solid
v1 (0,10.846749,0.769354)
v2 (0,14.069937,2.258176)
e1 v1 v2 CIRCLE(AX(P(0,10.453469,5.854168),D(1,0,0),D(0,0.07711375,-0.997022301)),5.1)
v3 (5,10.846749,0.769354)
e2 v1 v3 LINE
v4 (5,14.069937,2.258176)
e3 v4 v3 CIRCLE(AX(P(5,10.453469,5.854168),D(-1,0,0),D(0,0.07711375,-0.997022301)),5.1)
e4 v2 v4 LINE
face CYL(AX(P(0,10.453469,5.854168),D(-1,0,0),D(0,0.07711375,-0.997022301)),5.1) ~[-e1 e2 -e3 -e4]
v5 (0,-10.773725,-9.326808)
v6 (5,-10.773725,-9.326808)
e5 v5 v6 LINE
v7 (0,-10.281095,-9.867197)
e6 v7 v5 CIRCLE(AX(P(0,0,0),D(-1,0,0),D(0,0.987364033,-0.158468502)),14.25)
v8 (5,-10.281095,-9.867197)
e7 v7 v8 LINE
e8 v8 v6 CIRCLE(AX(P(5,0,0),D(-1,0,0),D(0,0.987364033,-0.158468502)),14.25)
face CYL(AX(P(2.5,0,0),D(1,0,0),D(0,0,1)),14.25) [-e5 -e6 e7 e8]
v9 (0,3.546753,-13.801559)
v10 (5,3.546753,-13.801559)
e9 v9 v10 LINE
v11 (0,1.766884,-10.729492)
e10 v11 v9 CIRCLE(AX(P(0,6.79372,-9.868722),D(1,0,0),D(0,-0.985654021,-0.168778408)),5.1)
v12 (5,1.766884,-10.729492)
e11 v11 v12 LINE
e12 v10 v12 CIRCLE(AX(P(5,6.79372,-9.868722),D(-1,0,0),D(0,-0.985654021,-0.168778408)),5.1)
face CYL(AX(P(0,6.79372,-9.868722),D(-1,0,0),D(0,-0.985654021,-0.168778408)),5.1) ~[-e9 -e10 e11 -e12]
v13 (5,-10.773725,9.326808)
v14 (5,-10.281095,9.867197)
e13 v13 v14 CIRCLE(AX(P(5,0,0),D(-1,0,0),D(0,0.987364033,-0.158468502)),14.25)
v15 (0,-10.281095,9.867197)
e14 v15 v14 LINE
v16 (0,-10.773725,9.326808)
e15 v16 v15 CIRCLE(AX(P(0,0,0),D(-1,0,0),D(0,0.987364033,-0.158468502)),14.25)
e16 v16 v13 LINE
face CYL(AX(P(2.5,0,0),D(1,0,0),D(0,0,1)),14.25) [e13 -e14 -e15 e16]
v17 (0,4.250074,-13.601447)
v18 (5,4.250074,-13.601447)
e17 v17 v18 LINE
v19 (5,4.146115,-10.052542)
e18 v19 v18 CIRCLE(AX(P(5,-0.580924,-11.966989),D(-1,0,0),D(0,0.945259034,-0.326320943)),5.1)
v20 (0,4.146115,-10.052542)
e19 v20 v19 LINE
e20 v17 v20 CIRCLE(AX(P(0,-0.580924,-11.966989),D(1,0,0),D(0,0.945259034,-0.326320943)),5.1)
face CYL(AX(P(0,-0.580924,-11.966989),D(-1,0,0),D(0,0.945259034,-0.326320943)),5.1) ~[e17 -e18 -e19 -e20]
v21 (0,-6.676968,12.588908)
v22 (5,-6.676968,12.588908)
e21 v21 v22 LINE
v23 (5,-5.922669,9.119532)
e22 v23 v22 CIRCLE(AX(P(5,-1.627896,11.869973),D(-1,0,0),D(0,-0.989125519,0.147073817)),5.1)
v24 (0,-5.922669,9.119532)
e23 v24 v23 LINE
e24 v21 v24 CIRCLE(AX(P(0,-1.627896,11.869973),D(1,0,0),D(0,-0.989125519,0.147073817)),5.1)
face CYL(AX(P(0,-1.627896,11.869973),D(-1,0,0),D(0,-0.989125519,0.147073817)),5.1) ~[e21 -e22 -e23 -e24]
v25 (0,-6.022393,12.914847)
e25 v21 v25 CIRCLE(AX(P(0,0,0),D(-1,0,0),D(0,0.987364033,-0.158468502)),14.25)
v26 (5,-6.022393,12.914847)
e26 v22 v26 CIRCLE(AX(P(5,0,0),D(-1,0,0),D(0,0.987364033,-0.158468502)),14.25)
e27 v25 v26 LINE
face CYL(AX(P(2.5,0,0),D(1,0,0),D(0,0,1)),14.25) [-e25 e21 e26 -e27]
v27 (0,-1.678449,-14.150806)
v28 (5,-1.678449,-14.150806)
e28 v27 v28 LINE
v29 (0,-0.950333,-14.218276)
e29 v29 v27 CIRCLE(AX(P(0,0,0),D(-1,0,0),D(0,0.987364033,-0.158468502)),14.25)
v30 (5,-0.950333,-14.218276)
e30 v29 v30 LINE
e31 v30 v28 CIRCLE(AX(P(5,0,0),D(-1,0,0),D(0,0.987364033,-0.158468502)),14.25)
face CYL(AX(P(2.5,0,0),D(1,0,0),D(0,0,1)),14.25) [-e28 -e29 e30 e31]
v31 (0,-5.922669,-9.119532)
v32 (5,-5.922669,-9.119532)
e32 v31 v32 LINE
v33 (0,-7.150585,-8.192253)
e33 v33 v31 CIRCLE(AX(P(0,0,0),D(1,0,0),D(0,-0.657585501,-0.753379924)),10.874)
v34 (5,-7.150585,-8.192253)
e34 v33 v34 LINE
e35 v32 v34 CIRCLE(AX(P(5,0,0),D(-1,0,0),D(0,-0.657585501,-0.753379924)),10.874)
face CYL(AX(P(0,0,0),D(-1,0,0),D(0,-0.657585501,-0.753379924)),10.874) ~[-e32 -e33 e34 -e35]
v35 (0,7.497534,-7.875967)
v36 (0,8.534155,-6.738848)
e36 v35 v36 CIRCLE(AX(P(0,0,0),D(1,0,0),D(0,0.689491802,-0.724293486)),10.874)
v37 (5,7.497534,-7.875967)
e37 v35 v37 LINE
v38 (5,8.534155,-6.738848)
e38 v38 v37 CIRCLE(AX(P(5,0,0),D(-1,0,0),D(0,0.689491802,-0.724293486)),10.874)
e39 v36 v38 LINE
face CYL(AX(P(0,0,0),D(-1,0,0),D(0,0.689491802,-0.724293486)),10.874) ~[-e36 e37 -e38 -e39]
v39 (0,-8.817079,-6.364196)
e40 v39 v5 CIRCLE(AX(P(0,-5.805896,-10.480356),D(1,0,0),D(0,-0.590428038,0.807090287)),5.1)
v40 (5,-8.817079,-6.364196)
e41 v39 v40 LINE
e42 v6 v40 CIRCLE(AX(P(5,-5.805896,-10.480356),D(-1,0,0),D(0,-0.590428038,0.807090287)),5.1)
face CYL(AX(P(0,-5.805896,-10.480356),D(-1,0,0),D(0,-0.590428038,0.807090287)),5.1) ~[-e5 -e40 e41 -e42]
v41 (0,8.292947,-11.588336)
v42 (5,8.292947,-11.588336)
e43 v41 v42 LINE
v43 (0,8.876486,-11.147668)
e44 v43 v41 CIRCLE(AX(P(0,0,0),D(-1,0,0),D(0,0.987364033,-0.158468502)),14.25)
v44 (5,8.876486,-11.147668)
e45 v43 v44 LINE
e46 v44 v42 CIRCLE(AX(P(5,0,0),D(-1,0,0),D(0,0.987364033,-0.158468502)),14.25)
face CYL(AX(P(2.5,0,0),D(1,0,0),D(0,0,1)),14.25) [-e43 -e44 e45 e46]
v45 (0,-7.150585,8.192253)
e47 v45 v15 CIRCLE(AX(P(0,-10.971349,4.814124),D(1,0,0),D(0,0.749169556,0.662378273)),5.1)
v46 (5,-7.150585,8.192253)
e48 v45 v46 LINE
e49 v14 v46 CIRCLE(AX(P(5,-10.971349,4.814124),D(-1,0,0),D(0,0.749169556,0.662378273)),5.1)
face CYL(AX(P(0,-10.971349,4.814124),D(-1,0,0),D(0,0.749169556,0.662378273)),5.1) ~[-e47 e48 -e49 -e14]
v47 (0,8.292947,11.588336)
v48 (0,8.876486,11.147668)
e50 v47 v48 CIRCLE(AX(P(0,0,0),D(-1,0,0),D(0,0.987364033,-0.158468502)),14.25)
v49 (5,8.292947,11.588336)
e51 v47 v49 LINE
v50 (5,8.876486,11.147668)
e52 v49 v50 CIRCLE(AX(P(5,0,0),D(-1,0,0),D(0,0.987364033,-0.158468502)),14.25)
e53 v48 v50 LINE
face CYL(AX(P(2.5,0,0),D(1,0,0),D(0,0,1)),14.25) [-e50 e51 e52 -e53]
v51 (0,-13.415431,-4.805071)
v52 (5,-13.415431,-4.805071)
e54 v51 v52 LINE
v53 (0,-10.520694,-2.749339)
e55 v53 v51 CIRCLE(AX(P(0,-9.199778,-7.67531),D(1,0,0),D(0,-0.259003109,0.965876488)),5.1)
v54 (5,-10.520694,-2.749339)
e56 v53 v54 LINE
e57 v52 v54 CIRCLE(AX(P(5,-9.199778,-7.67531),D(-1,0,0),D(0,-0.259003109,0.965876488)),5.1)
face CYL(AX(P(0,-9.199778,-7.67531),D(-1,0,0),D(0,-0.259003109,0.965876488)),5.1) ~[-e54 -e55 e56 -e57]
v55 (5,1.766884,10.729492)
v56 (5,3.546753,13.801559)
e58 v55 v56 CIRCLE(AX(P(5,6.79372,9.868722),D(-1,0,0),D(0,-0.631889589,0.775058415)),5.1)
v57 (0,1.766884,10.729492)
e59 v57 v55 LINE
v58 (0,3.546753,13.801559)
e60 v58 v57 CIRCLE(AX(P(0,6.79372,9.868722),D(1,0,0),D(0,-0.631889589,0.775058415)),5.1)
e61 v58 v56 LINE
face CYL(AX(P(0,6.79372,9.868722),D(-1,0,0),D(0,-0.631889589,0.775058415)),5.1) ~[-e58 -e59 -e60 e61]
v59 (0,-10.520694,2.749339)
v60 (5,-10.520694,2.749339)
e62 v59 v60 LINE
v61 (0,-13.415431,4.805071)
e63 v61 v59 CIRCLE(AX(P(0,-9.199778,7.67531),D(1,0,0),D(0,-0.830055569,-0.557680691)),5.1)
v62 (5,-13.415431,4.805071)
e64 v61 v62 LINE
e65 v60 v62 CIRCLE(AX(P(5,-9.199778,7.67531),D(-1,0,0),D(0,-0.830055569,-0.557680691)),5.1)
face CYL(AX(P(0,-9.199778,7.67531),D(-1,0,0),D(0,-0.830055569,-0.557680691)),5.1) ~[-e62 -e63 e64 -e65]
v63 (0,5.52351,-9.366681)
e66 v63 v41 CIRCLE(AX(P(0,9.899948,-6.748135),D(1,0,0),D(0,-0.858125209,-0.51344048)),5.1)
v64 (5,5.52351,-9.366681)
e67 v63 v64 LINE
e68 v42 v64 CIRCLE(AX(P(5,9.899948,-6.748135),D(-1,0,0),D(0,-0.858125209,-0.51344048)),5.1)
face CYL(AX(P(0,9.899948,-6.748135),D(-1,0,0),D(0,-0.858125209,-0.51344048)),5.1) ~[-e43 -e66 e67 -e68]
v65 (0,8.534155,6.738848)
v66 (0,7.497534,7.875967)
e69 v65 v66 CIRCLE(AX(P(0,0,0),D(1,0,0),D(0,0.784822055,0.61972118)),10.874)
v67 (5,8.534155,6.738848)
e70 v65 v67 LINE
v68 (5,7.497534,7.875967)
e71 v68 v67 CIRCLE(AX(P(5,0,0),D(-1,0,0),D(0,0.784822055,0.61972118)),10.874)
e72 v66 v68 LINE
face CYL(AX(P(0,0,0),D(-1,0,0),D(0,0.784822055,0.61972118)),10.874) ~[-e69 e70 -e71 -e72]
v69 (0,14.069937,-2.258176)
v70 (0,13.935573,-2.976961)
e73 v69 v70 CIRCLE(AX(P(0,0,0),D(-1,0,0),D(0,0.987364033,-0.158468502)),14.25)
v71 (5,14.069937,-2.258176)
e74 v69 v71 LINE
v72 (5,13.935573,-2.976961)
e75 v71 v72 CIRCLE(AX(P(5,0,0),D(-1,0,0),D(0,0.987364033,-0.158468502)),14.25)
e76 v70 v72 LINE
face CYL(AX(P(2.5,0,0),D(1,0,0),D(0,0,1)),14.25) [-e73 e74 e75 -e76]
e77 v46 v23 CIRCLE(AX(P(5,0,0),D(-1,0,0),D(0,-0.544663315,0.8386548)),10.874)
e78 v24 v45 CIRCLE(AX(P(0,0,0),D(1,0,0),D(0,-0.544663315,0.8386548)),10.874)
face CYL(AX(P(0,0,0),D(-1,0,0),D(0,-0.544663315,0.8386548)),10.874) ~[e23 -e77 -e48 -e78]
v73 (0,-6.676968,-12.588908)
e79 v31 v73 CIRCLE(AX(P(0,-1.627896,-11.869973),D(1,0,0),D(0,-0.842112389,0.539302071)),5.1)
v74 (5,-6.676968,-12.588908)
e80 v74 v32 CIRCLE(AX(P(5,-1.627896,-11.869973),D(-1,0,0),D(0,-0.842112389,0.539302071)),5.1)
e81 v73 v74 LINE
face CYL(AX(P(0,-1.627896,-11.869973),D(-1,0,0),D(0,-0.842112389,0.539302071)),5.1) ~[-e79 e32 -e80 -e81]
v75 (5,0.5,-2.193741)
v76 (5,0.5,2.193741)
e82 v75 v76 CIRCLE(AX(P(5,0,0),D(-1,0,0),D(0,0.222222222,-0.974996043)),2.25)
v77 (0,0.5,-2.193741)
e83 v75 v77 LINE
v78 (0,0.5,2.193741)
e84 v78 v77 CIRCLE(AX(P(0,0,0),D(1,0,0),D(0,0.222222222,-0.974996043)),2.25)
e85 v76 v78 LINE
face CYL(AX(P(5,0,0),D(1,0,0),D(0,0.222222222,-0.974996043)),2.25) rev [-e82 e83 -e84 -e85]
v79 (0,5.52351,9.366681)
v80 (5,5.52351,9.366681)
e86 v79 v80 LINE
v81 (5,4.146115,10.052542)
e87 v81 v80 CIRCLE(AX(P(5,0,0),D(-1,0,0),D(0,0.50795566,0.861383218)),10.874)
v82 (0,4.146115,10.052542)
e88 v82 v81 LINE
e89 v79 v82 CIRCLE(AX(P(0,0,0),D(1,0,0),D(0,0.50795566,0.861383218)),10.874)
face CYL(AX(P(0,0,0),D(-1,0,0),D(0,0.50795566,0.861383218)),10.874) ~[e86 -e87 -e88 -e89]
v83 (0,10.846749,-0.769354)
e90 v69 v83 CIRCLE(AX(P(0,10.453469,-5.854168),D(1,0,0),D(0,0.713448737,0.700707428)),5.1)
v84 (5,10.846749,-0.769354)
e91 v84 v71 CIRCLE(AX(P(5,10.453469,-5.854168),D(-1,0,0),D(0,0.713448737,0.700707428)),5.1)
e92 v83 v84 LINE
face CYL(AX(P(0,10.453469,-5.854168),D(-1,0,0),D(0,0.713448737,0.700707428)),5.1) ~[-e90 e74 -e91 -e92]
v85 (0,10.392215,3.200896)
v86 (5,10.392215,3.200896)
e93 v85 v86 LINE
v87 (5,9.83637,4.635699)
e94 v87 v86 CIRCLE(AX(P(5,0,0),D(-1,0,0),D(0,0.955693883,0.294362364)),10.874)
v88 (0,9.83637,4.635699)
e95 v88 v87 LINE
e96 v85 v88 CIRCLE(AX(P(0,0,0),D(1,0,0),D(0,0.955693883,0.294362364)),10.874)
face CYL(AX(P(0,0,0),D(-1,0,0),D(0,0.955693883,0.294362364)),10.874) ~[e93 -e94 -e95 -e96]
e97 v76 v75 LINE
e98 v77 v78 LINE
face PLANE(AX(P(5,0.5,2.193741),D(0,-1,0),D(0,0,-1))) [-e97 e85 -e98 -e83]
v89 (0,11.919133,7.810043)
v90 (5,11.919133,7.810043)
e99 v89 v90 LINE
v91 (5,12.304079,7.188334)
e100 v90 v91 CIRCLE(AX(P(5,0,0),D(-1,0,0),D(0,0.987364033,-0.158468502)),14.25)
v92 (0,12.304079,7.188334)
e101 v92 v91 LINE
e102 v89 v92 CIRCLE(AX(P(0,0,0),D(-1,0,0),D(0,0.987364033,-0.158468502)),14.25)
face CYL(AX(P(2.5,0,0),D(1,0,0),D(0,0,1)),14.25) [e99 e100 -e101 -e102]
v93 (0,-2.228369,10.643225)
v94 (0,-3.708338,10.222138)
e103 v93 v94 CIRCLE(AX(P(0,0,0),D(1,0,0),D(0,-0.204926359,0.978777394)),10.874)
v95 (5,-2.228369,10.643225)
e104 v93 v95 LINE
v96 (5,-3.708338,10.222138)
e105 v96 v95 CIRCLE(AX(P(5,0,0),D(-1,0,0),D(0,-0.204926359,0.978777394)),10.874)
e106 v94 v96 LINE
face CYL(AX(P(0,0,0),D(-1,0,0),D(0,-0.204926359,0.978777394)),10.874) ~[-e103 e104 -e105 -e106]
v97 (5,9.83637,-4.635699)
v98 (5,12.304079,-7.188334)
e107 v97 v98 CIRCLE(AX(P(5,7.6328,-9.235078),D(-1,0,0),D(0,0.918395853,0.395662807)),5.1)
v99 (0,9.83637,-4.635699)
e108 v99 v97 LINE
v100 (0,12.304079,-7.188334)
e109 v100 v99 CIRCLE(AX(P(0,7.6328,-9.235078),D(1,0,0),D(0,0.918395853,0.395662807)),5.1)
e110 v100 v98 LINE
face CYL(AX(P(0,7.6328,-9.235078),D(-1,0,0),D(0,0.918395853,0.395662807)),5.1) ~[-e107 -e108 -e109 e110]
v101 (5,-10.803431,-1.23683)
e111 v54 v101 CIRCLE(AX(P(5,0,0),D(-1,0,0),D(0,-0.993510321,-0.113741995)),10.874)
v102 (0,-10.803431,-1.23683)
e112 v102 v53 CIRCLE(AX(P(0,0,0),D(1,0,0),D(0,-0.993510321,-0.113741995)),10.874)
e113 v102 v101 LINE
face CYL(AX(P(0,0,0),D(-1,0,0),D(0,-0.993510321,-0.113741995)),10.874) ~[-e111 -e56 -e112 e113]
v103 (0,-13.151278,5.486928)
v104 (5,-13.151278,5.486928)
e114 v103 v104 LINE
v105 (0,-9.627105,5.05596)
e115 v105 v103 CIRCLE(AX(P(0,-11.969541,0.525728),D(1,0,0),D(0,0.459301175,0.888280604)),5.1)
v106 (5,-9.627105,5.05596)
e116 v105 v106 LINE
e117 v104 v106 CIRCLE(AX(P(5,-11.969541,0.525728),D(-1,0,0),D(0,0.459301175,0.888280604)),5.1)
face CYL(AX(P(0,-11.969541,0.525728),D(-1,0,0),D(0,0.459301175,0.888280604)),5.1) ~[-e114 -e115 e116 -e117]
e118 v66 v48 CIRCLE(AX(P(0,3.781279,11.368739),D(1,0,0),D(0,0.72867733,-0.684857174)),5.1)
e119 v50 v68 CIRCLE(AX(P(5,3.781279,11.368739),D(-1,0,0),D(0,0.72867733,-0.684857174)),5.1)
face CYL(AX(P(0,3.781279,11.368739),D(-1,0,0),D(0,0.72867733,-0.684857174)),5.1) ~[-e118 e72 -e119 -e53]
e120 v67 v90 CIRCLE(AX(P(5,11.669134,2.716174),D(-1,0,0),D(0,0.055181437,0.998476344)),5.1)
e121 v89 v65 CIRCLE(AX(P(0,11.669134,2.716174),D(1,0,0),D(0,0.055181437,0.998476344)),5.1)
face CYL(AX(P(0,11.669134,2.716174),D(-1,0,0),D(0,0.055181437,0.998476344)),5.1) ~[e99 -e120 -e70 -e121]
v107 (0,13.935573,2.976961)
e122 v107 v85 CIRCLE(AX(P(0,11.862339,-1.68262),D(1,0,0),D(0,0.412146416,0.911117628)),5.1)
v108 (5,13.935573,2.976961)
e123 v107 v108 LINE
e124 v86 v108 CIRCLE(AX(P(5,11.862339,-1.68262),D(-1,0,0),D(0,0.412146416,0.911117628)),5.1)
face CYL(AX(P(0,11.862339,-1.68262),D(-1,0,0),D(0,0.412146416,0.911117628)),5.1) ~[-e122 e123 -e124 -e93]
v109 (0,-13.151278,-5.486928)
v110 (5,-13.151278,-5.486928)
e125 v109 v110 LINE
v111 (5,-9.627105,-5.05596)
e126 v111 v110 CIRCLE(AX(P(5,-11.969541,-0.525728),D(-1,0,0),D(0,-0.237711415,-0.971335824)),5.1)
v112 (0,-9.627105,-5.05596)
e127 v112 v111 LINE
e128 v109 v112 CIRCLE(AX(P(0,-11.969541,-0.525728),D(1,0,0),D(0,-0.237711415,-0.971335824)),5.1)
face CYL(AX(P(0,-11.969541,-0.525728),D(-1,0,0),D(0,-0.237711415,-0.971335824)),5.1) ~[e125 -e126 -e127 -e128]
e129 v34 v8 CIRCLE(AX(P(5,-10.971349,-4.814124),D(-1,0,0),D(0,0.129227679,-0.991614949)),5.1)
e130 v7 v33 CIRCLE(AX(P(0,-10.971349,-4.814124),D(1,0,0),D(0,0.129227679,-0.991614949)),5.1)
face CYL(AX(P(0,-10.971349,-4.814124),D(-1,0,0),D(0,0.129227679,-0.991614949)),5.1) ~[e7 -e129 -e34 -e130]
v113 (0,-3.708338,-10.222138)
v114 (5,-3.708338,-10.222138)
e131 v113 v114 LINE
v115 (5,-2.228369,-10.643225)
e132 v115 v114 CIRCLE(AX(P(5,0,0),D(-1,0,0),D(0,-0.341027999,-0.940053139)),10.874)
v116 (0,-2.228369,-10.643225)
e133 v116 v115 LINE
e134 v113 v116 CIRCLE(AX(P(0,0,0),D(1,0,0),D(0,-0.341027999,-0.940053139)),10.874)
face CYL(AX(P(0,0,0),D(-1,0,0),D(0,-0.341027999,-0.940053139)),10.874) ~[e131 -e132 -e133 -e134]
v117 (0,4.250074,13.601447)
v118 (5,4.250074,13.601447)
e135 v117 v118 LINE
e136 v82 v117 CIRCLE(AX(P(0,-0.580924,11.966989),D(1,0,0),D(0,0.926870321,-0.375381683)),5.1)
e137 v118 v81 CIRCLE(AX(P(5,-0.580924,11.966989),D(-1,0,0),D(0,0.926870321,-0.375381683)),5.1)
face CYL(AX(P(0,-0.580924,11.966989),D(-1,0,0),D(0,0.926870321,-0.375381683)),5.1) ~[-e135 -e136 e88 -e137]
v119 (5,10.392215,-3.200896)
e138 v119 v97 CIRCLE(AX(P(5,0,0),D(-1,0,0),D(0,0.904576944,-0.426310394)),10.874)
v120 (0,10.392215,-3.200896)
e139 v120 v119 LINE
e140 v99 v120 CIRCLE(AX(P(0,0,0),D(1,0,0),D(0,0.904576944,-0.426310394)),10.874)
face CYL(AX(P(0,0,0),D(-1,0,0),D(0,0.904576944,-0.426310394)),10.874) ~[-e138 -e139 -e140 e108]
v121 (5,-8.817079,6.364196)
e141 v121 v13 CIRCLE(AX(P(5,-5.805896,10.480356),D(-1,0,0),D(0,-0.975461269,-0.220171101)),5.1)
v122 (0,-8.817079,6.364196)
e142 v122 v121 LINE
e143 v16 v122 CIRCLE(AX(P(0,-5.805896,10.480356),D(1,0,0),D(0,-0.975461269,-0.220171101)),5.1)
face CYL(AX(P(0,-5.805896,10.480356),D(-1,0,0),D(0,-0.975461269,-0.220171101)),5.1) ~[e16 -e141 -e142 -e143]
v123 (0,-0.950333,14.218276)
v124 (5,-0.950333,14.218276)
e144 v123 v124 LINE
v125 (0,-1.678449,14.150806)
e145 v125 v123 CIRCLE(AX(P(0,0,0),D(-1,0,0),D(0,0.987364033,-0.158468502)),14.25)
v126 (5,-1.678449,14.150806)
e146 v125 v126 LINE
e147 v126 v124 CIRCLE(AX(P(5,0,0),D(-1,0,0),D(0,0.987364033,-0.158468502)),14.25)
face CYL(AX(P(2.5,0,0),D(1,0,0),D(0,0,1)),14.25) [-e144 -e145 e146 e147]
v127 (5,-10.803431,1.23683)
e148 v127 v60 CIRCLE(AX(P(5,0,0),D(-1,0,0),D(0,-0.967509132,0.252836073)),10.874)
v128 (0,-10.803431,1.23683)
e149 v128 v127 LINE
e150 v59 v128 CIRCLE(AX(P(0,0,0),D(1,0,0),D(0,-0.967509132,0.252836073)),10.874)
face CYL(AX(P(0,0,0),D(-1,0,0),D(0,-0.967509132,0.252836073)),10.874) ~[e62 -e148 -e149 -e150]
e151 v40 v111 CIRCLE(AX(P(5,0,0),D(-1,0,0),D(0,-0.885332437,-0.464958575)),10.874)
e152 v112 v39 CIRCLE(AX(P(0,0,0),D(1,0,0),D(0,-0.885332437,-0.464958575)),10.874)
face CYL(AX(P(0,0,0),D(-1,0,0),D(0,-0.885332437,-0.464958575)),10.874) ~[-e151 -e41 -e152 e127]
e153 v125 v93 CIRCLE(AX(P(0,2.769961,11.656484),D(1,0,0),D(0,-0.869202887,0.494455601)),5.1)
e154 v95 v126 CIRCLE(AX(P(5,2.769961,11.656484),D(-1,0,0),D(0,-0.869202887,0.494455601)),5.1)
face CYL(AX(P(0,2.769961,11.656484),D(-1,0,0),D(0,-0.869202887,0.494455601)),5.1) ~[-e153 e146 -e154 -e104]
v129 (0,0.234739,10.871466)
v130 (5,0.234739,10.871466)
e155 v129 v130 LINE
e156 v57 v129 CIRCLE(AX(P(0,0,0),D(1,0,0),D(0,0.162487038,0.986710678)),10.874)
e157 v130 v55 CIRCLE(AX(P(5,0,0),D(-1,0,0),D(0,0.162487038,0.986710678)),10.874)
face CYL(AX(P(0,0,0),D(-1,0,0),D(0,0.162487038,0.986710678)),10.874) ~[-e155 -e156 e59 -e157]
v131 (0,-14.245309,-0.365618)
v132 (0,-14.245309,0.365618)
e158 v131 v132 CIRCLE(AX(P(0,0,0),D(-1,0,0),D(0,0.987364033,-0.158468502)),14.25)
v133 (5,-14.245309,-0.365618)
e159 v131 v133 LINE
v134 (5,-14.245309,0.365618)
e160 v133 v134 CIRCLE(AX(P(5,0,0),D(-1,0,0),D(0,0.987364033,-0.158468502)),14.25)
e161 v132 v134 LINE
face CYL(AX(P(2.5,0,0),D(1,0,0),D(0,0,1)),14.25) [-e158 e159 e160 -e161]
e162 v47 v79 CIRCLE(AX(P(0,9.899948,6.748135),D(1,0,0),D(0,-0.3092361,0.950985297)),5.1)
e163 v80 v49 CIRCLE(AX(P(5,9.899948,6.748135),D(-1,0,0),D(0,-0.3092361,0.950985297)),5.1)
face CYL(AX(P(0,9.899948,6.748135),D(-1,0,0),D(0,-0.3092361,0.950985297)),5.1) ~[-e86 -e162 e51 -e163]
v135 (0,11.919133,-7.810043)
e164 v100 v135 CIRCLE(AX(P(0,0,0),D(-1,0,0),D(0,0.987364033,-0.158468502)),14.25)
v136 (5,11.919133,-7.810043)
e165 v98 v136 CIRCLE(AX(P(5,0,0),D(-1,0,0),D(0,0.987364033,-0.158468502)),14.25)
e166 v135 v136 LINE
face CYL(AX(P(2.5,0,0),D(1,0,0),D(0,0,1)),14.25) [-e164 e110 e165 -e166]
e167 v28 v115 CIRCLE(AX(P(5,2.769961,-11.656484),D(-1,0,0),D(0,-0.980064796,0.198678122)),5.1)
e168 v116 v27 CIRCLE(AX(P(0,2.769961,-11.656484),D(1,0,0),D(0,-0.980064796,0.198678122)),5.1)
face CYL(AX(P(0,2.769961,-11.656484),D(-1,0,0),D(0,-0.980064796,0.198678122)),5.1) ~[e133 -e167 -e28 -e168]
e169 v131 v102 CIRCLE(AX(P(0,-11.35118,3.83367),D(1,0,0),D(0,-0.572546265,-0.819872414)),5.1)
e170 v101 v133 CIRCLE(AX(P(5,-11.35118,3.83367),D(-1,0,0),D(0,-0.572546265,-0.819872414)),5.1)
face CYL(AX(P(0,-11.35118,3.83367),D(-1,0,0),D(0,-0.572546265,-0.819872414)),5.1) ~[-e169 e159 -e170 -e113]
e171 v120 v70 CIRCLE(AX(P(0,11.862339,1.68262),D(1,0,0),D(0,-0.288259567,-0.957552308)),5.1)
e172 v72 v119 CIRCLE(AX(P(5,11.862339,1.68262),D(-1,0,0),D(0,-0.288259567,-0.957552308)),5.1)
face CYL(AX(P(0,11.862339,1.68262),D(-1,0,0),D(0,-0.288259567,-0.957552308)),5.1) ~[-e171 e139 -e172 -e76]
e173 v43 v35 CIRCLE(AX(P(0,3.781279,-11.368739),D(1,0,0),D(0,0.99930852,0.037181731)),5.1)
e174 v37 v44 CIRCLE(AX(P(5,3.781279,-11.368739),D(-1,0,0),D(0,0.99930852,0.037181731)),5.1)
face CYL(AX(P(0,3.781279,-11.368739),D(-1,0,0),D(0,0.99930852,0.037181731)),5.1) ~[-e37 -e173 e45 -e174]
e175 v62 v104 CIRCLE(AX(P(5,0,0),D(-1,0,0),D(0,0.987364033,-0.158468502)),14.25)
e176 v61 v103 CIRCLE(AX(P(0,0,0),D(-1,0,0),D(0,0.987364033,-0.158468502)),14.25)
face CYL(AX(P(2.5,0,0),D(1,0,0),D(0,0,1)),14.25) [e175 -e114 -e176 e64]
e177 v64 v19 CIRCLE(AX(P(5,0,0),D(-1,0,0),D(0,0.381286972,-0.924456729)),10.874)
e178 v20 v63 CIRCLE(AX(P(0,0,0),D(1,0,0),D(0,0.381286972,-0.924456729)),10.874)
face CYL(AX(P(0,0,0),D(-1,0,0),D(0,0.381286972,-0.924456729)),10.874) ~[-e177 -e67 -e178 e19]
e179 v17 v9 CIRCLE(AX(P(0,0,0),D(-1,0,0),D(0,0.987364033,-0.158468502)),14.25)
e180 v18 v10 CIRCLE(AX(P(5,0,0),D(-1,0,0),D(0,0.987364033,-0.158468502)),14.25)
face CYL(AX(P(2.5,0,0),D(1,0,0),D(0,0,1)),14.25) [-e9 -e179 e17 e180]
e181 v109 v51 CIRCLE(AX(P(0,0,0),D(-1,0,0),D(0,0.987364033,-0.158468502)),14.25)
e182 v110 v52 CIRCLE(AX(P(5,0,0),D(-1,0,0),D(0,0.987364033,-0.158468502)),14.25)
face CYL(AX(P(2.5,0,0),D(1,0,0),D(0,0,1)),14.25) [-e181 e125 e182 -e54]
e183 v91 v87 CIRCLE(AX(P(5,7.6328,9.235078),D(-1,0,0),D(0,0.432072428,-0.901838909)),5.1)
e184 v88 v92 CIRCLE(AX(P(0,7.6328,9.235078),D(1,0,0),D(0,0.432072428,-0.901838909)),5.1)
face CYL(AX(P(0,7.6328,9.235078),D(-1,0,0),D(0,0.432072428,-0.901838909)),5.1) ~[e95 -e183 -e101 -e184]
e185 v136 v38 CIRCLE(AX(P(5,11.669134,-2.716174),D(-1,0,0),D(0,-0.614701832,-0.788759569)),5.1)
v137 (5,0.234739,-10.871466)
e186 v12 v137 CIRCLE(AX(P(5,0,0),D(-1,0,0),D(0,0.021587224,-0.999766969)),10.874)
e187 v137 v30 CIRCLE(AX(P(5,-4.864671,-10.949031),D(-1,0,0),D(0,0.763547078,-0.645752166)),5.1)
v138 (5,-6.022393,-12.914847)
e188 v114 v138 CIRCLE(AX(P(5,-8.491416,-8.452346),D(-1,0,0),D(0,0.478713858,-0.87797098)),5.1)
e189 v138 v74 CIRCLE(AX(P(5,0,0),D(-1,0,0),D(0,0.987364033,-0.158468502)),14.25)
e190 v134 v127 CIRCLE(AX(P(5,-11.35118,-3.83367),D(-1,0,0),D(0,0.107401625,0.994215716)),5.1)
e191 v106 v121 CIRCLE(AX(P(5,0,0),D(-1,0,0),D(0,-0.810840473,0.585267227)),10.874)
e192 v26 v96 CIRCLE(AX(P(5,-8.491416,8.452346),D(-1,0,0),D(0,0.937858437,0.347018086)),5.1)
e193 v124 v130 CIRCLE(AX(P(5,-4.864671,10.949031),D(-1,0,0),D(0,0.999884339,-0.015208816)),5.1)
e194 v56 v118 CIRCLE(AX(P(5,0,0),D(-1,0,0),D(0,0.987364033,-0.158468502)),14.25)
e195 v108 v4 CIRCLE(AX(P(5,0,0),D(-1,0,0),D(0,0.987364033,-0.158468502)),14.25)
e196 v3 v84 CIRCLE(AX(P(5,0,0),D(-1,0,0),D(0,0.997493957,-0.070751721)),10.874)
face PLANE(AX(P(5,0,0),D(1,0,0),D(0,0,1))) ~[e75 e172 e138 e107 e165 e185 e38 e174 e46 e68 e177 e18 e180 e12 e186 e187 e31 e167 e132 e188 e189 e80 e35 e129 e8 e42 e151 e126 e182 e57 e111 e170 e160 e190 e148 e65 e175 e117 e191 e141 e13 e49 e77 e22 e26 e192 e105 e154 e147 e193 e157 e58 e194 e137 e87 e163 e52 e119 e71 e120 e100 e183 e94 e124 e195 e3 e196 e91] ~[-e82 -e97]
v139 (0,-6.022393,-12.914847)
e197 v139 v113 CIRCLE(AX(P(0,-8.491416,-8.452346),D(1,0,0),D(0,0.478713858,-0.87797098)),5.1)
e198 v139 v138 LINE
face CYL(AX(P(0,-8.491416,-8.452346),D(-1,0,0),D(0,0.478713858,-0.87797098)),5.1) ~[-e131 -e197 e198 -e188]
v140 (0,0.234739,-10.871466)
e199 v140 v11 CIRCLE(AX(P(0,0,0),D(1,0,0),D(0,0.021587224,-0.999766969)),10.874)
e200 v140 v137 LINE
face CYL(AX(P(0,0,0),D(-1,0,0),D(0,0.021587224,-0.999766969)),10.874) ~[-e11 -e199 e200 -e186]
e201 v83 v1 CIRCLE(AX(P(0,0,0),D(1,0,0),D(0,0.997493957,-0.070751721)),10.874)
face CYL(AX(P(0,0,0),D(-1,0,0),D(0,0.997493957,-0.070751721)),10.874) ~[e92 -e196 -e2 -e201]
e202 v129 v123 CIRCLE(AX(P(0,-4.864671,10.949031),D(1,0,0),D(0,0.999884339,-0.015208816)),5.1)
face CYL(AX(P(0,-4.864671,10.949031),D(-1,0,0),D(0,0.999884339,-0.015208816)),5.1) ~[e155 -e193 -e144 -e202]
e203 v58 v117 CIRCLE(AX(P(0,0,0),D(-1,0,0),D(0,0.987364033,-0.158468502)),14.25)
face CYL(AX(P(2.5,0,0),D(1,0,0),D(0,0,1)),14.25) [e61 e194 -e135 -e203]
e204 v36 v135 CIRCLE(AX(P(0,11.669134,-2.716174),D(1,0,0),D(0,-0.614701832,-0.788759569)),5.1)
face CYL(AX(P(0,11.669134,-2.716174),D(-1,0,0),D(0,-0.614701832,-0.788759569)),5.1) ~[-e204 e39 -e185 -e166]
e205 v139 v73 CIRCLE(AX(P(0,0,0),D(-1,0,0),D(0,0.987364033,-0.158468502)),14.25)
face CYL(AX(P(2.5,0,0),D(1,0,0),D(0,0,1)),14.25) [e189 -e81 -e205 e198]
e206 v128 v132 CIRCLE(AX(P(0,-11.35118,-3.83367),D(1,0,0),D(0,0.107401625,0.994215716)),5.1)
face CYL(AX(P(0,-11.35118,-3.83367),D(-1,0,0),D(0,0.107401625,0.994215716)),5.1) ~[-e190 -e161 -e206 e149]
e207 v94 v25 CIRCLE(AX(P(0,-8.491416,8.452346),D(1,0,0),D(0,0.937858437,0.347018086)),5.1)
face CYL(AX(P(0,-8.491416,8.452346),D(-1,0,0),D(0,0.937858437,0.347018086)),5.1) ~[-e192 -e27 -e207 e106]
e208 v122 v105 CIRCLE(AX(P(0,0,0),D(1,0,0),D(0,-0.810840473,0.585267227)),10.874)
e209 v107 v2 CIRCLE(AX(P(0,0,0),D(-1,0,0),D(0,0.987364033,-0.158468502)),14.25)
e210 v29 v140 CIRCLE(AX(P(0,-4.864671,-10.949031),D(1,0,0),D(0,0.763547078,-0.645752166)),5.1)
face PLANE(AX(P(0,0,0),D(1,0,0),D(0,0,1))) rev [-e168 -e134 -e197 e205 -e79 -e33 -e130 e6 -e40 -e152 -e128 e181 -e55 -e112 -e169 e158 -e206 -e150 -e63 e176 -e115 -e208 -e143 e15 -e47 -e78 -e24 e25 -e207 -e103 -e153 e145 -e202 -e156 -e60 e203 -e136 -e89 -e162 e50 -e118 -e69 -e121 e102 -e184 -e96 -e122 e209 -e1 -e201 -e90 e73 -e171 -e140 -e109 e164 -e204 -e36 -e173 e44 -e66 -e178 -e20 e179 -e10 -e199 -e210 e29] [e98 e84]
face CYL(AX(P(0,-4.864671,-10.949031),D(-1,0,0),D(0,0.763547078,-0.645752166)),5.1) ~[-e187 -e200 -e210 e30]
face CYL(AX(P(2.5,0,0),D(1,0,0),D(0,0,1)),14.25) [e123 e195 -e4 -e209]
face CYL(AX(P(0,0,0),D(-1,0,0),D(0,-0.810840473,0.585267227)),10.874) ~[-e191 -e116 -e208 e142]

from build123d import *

# Parameters (mm, degrees)
BASPROSKE_W        = 5
BASPROSKE_H        = 14.25
TOOTHCUT_DEPTH     = 21.763549793
TEETHCUTS_COUNT    = 17
TEETHCUTS_ANGLE    = 338.823529412
BORSKE_R           = 0.4
BORE_DEPTH         = 50.0000508
CUT_EXTRUDE1_DEPTH = 21.741790351


with BuildPart() as part:
    # BasProSke → Base-Revolve (revolve)
    with BuildSketch(Plane(origin=(0, 0, 0), x_dir=(1, 0, 0), z_dir=(0, 1, 0)), mode=Mode.PRIVATE) as base_revolve_sk:
        with Locations((2.5, 7.125)):
            Rectangle(BASPROSKE_W, BASPROSKE_H)
    revolve(base_revolve_sk.sketch.rotate(Axis((-10, 0, 0), (1, 0, 0)), 180), axis=Axis((-10, 0, 0), (1, 0, 0)))

    # TooCutSke → ToothCut (cut, through all)
    with BuildSketch(Plane(origin=(0, 0, 0), x_dir=(0, 0, -1), z_dir=(1, 0, 0))):
        with BuildLine():
            ThreePointArc((0.769354207, 10.846749287), (0, 10.874), (-0.769354207, 10.846749287))
            ThreePointArc((-0.769354207, 10.846749287), (-1.230849554, 12.606357238), (-2.280560064, 14.092057726))
            ThreePointArc((-2.280560064, 14.092057726), (0, 14.2754), (2.280560064, 14.092057726))
            ThreePointArc((2.280560064, 14.092057726), (1.230849554, 12.606357238), (0.769354207, 10.846749287))
        make_face()
    toothcut = extrude(amount=TOOTHCUT_DEPTH, mode=Mode.SUBTRACT)

    # TeethCuts: ToothCut ×17 about axis
    teethcuts_axis = Axis((-10, 0, 0), (1, 0, 0))
    for i in range(1, TEETHCUTS_COUNT):
        add(toothcut.rotate(teethcuts_axis, i * TEETHCUTS_ANGLE / (TEETHCUTS_COUNT - 1)), mode=Mode.SUBTRACT)

    # BorSke → Bore (cut, symmetric)
    with BuildSketch(Plane(origin=(0, 0, 0), x_dir=(0, 0, -1), z_dir=(1, 0, 0))):
        with Locations(Location((0, 0, 0), (0, 0, 180))):
            Circle(BORSKE_R)
    extrude(amount=BORE_DEPTH, both=True, mode=Mode.SUBTRACT)

    # Sketch1 → Cut-Extrude1 (cut, through all)
    with BuildSketch(Plane(origin=(5, 0, 0), x_dir=(0, 0, -1), z_dir=(1, 0, 0))):
        with BuildLine():
            Line((-2.193741097, 0.5), (2.193741097, 0.5))
            ThreePointArc((2.193741097, 0.5), (0, -2.25), (-2.193741097, 0.5))
        make_face()
    extrude(amount=-CUT_EXTRUDE1_DEPTH, mode=Mode.SUBTRACT)


solid = part.part
